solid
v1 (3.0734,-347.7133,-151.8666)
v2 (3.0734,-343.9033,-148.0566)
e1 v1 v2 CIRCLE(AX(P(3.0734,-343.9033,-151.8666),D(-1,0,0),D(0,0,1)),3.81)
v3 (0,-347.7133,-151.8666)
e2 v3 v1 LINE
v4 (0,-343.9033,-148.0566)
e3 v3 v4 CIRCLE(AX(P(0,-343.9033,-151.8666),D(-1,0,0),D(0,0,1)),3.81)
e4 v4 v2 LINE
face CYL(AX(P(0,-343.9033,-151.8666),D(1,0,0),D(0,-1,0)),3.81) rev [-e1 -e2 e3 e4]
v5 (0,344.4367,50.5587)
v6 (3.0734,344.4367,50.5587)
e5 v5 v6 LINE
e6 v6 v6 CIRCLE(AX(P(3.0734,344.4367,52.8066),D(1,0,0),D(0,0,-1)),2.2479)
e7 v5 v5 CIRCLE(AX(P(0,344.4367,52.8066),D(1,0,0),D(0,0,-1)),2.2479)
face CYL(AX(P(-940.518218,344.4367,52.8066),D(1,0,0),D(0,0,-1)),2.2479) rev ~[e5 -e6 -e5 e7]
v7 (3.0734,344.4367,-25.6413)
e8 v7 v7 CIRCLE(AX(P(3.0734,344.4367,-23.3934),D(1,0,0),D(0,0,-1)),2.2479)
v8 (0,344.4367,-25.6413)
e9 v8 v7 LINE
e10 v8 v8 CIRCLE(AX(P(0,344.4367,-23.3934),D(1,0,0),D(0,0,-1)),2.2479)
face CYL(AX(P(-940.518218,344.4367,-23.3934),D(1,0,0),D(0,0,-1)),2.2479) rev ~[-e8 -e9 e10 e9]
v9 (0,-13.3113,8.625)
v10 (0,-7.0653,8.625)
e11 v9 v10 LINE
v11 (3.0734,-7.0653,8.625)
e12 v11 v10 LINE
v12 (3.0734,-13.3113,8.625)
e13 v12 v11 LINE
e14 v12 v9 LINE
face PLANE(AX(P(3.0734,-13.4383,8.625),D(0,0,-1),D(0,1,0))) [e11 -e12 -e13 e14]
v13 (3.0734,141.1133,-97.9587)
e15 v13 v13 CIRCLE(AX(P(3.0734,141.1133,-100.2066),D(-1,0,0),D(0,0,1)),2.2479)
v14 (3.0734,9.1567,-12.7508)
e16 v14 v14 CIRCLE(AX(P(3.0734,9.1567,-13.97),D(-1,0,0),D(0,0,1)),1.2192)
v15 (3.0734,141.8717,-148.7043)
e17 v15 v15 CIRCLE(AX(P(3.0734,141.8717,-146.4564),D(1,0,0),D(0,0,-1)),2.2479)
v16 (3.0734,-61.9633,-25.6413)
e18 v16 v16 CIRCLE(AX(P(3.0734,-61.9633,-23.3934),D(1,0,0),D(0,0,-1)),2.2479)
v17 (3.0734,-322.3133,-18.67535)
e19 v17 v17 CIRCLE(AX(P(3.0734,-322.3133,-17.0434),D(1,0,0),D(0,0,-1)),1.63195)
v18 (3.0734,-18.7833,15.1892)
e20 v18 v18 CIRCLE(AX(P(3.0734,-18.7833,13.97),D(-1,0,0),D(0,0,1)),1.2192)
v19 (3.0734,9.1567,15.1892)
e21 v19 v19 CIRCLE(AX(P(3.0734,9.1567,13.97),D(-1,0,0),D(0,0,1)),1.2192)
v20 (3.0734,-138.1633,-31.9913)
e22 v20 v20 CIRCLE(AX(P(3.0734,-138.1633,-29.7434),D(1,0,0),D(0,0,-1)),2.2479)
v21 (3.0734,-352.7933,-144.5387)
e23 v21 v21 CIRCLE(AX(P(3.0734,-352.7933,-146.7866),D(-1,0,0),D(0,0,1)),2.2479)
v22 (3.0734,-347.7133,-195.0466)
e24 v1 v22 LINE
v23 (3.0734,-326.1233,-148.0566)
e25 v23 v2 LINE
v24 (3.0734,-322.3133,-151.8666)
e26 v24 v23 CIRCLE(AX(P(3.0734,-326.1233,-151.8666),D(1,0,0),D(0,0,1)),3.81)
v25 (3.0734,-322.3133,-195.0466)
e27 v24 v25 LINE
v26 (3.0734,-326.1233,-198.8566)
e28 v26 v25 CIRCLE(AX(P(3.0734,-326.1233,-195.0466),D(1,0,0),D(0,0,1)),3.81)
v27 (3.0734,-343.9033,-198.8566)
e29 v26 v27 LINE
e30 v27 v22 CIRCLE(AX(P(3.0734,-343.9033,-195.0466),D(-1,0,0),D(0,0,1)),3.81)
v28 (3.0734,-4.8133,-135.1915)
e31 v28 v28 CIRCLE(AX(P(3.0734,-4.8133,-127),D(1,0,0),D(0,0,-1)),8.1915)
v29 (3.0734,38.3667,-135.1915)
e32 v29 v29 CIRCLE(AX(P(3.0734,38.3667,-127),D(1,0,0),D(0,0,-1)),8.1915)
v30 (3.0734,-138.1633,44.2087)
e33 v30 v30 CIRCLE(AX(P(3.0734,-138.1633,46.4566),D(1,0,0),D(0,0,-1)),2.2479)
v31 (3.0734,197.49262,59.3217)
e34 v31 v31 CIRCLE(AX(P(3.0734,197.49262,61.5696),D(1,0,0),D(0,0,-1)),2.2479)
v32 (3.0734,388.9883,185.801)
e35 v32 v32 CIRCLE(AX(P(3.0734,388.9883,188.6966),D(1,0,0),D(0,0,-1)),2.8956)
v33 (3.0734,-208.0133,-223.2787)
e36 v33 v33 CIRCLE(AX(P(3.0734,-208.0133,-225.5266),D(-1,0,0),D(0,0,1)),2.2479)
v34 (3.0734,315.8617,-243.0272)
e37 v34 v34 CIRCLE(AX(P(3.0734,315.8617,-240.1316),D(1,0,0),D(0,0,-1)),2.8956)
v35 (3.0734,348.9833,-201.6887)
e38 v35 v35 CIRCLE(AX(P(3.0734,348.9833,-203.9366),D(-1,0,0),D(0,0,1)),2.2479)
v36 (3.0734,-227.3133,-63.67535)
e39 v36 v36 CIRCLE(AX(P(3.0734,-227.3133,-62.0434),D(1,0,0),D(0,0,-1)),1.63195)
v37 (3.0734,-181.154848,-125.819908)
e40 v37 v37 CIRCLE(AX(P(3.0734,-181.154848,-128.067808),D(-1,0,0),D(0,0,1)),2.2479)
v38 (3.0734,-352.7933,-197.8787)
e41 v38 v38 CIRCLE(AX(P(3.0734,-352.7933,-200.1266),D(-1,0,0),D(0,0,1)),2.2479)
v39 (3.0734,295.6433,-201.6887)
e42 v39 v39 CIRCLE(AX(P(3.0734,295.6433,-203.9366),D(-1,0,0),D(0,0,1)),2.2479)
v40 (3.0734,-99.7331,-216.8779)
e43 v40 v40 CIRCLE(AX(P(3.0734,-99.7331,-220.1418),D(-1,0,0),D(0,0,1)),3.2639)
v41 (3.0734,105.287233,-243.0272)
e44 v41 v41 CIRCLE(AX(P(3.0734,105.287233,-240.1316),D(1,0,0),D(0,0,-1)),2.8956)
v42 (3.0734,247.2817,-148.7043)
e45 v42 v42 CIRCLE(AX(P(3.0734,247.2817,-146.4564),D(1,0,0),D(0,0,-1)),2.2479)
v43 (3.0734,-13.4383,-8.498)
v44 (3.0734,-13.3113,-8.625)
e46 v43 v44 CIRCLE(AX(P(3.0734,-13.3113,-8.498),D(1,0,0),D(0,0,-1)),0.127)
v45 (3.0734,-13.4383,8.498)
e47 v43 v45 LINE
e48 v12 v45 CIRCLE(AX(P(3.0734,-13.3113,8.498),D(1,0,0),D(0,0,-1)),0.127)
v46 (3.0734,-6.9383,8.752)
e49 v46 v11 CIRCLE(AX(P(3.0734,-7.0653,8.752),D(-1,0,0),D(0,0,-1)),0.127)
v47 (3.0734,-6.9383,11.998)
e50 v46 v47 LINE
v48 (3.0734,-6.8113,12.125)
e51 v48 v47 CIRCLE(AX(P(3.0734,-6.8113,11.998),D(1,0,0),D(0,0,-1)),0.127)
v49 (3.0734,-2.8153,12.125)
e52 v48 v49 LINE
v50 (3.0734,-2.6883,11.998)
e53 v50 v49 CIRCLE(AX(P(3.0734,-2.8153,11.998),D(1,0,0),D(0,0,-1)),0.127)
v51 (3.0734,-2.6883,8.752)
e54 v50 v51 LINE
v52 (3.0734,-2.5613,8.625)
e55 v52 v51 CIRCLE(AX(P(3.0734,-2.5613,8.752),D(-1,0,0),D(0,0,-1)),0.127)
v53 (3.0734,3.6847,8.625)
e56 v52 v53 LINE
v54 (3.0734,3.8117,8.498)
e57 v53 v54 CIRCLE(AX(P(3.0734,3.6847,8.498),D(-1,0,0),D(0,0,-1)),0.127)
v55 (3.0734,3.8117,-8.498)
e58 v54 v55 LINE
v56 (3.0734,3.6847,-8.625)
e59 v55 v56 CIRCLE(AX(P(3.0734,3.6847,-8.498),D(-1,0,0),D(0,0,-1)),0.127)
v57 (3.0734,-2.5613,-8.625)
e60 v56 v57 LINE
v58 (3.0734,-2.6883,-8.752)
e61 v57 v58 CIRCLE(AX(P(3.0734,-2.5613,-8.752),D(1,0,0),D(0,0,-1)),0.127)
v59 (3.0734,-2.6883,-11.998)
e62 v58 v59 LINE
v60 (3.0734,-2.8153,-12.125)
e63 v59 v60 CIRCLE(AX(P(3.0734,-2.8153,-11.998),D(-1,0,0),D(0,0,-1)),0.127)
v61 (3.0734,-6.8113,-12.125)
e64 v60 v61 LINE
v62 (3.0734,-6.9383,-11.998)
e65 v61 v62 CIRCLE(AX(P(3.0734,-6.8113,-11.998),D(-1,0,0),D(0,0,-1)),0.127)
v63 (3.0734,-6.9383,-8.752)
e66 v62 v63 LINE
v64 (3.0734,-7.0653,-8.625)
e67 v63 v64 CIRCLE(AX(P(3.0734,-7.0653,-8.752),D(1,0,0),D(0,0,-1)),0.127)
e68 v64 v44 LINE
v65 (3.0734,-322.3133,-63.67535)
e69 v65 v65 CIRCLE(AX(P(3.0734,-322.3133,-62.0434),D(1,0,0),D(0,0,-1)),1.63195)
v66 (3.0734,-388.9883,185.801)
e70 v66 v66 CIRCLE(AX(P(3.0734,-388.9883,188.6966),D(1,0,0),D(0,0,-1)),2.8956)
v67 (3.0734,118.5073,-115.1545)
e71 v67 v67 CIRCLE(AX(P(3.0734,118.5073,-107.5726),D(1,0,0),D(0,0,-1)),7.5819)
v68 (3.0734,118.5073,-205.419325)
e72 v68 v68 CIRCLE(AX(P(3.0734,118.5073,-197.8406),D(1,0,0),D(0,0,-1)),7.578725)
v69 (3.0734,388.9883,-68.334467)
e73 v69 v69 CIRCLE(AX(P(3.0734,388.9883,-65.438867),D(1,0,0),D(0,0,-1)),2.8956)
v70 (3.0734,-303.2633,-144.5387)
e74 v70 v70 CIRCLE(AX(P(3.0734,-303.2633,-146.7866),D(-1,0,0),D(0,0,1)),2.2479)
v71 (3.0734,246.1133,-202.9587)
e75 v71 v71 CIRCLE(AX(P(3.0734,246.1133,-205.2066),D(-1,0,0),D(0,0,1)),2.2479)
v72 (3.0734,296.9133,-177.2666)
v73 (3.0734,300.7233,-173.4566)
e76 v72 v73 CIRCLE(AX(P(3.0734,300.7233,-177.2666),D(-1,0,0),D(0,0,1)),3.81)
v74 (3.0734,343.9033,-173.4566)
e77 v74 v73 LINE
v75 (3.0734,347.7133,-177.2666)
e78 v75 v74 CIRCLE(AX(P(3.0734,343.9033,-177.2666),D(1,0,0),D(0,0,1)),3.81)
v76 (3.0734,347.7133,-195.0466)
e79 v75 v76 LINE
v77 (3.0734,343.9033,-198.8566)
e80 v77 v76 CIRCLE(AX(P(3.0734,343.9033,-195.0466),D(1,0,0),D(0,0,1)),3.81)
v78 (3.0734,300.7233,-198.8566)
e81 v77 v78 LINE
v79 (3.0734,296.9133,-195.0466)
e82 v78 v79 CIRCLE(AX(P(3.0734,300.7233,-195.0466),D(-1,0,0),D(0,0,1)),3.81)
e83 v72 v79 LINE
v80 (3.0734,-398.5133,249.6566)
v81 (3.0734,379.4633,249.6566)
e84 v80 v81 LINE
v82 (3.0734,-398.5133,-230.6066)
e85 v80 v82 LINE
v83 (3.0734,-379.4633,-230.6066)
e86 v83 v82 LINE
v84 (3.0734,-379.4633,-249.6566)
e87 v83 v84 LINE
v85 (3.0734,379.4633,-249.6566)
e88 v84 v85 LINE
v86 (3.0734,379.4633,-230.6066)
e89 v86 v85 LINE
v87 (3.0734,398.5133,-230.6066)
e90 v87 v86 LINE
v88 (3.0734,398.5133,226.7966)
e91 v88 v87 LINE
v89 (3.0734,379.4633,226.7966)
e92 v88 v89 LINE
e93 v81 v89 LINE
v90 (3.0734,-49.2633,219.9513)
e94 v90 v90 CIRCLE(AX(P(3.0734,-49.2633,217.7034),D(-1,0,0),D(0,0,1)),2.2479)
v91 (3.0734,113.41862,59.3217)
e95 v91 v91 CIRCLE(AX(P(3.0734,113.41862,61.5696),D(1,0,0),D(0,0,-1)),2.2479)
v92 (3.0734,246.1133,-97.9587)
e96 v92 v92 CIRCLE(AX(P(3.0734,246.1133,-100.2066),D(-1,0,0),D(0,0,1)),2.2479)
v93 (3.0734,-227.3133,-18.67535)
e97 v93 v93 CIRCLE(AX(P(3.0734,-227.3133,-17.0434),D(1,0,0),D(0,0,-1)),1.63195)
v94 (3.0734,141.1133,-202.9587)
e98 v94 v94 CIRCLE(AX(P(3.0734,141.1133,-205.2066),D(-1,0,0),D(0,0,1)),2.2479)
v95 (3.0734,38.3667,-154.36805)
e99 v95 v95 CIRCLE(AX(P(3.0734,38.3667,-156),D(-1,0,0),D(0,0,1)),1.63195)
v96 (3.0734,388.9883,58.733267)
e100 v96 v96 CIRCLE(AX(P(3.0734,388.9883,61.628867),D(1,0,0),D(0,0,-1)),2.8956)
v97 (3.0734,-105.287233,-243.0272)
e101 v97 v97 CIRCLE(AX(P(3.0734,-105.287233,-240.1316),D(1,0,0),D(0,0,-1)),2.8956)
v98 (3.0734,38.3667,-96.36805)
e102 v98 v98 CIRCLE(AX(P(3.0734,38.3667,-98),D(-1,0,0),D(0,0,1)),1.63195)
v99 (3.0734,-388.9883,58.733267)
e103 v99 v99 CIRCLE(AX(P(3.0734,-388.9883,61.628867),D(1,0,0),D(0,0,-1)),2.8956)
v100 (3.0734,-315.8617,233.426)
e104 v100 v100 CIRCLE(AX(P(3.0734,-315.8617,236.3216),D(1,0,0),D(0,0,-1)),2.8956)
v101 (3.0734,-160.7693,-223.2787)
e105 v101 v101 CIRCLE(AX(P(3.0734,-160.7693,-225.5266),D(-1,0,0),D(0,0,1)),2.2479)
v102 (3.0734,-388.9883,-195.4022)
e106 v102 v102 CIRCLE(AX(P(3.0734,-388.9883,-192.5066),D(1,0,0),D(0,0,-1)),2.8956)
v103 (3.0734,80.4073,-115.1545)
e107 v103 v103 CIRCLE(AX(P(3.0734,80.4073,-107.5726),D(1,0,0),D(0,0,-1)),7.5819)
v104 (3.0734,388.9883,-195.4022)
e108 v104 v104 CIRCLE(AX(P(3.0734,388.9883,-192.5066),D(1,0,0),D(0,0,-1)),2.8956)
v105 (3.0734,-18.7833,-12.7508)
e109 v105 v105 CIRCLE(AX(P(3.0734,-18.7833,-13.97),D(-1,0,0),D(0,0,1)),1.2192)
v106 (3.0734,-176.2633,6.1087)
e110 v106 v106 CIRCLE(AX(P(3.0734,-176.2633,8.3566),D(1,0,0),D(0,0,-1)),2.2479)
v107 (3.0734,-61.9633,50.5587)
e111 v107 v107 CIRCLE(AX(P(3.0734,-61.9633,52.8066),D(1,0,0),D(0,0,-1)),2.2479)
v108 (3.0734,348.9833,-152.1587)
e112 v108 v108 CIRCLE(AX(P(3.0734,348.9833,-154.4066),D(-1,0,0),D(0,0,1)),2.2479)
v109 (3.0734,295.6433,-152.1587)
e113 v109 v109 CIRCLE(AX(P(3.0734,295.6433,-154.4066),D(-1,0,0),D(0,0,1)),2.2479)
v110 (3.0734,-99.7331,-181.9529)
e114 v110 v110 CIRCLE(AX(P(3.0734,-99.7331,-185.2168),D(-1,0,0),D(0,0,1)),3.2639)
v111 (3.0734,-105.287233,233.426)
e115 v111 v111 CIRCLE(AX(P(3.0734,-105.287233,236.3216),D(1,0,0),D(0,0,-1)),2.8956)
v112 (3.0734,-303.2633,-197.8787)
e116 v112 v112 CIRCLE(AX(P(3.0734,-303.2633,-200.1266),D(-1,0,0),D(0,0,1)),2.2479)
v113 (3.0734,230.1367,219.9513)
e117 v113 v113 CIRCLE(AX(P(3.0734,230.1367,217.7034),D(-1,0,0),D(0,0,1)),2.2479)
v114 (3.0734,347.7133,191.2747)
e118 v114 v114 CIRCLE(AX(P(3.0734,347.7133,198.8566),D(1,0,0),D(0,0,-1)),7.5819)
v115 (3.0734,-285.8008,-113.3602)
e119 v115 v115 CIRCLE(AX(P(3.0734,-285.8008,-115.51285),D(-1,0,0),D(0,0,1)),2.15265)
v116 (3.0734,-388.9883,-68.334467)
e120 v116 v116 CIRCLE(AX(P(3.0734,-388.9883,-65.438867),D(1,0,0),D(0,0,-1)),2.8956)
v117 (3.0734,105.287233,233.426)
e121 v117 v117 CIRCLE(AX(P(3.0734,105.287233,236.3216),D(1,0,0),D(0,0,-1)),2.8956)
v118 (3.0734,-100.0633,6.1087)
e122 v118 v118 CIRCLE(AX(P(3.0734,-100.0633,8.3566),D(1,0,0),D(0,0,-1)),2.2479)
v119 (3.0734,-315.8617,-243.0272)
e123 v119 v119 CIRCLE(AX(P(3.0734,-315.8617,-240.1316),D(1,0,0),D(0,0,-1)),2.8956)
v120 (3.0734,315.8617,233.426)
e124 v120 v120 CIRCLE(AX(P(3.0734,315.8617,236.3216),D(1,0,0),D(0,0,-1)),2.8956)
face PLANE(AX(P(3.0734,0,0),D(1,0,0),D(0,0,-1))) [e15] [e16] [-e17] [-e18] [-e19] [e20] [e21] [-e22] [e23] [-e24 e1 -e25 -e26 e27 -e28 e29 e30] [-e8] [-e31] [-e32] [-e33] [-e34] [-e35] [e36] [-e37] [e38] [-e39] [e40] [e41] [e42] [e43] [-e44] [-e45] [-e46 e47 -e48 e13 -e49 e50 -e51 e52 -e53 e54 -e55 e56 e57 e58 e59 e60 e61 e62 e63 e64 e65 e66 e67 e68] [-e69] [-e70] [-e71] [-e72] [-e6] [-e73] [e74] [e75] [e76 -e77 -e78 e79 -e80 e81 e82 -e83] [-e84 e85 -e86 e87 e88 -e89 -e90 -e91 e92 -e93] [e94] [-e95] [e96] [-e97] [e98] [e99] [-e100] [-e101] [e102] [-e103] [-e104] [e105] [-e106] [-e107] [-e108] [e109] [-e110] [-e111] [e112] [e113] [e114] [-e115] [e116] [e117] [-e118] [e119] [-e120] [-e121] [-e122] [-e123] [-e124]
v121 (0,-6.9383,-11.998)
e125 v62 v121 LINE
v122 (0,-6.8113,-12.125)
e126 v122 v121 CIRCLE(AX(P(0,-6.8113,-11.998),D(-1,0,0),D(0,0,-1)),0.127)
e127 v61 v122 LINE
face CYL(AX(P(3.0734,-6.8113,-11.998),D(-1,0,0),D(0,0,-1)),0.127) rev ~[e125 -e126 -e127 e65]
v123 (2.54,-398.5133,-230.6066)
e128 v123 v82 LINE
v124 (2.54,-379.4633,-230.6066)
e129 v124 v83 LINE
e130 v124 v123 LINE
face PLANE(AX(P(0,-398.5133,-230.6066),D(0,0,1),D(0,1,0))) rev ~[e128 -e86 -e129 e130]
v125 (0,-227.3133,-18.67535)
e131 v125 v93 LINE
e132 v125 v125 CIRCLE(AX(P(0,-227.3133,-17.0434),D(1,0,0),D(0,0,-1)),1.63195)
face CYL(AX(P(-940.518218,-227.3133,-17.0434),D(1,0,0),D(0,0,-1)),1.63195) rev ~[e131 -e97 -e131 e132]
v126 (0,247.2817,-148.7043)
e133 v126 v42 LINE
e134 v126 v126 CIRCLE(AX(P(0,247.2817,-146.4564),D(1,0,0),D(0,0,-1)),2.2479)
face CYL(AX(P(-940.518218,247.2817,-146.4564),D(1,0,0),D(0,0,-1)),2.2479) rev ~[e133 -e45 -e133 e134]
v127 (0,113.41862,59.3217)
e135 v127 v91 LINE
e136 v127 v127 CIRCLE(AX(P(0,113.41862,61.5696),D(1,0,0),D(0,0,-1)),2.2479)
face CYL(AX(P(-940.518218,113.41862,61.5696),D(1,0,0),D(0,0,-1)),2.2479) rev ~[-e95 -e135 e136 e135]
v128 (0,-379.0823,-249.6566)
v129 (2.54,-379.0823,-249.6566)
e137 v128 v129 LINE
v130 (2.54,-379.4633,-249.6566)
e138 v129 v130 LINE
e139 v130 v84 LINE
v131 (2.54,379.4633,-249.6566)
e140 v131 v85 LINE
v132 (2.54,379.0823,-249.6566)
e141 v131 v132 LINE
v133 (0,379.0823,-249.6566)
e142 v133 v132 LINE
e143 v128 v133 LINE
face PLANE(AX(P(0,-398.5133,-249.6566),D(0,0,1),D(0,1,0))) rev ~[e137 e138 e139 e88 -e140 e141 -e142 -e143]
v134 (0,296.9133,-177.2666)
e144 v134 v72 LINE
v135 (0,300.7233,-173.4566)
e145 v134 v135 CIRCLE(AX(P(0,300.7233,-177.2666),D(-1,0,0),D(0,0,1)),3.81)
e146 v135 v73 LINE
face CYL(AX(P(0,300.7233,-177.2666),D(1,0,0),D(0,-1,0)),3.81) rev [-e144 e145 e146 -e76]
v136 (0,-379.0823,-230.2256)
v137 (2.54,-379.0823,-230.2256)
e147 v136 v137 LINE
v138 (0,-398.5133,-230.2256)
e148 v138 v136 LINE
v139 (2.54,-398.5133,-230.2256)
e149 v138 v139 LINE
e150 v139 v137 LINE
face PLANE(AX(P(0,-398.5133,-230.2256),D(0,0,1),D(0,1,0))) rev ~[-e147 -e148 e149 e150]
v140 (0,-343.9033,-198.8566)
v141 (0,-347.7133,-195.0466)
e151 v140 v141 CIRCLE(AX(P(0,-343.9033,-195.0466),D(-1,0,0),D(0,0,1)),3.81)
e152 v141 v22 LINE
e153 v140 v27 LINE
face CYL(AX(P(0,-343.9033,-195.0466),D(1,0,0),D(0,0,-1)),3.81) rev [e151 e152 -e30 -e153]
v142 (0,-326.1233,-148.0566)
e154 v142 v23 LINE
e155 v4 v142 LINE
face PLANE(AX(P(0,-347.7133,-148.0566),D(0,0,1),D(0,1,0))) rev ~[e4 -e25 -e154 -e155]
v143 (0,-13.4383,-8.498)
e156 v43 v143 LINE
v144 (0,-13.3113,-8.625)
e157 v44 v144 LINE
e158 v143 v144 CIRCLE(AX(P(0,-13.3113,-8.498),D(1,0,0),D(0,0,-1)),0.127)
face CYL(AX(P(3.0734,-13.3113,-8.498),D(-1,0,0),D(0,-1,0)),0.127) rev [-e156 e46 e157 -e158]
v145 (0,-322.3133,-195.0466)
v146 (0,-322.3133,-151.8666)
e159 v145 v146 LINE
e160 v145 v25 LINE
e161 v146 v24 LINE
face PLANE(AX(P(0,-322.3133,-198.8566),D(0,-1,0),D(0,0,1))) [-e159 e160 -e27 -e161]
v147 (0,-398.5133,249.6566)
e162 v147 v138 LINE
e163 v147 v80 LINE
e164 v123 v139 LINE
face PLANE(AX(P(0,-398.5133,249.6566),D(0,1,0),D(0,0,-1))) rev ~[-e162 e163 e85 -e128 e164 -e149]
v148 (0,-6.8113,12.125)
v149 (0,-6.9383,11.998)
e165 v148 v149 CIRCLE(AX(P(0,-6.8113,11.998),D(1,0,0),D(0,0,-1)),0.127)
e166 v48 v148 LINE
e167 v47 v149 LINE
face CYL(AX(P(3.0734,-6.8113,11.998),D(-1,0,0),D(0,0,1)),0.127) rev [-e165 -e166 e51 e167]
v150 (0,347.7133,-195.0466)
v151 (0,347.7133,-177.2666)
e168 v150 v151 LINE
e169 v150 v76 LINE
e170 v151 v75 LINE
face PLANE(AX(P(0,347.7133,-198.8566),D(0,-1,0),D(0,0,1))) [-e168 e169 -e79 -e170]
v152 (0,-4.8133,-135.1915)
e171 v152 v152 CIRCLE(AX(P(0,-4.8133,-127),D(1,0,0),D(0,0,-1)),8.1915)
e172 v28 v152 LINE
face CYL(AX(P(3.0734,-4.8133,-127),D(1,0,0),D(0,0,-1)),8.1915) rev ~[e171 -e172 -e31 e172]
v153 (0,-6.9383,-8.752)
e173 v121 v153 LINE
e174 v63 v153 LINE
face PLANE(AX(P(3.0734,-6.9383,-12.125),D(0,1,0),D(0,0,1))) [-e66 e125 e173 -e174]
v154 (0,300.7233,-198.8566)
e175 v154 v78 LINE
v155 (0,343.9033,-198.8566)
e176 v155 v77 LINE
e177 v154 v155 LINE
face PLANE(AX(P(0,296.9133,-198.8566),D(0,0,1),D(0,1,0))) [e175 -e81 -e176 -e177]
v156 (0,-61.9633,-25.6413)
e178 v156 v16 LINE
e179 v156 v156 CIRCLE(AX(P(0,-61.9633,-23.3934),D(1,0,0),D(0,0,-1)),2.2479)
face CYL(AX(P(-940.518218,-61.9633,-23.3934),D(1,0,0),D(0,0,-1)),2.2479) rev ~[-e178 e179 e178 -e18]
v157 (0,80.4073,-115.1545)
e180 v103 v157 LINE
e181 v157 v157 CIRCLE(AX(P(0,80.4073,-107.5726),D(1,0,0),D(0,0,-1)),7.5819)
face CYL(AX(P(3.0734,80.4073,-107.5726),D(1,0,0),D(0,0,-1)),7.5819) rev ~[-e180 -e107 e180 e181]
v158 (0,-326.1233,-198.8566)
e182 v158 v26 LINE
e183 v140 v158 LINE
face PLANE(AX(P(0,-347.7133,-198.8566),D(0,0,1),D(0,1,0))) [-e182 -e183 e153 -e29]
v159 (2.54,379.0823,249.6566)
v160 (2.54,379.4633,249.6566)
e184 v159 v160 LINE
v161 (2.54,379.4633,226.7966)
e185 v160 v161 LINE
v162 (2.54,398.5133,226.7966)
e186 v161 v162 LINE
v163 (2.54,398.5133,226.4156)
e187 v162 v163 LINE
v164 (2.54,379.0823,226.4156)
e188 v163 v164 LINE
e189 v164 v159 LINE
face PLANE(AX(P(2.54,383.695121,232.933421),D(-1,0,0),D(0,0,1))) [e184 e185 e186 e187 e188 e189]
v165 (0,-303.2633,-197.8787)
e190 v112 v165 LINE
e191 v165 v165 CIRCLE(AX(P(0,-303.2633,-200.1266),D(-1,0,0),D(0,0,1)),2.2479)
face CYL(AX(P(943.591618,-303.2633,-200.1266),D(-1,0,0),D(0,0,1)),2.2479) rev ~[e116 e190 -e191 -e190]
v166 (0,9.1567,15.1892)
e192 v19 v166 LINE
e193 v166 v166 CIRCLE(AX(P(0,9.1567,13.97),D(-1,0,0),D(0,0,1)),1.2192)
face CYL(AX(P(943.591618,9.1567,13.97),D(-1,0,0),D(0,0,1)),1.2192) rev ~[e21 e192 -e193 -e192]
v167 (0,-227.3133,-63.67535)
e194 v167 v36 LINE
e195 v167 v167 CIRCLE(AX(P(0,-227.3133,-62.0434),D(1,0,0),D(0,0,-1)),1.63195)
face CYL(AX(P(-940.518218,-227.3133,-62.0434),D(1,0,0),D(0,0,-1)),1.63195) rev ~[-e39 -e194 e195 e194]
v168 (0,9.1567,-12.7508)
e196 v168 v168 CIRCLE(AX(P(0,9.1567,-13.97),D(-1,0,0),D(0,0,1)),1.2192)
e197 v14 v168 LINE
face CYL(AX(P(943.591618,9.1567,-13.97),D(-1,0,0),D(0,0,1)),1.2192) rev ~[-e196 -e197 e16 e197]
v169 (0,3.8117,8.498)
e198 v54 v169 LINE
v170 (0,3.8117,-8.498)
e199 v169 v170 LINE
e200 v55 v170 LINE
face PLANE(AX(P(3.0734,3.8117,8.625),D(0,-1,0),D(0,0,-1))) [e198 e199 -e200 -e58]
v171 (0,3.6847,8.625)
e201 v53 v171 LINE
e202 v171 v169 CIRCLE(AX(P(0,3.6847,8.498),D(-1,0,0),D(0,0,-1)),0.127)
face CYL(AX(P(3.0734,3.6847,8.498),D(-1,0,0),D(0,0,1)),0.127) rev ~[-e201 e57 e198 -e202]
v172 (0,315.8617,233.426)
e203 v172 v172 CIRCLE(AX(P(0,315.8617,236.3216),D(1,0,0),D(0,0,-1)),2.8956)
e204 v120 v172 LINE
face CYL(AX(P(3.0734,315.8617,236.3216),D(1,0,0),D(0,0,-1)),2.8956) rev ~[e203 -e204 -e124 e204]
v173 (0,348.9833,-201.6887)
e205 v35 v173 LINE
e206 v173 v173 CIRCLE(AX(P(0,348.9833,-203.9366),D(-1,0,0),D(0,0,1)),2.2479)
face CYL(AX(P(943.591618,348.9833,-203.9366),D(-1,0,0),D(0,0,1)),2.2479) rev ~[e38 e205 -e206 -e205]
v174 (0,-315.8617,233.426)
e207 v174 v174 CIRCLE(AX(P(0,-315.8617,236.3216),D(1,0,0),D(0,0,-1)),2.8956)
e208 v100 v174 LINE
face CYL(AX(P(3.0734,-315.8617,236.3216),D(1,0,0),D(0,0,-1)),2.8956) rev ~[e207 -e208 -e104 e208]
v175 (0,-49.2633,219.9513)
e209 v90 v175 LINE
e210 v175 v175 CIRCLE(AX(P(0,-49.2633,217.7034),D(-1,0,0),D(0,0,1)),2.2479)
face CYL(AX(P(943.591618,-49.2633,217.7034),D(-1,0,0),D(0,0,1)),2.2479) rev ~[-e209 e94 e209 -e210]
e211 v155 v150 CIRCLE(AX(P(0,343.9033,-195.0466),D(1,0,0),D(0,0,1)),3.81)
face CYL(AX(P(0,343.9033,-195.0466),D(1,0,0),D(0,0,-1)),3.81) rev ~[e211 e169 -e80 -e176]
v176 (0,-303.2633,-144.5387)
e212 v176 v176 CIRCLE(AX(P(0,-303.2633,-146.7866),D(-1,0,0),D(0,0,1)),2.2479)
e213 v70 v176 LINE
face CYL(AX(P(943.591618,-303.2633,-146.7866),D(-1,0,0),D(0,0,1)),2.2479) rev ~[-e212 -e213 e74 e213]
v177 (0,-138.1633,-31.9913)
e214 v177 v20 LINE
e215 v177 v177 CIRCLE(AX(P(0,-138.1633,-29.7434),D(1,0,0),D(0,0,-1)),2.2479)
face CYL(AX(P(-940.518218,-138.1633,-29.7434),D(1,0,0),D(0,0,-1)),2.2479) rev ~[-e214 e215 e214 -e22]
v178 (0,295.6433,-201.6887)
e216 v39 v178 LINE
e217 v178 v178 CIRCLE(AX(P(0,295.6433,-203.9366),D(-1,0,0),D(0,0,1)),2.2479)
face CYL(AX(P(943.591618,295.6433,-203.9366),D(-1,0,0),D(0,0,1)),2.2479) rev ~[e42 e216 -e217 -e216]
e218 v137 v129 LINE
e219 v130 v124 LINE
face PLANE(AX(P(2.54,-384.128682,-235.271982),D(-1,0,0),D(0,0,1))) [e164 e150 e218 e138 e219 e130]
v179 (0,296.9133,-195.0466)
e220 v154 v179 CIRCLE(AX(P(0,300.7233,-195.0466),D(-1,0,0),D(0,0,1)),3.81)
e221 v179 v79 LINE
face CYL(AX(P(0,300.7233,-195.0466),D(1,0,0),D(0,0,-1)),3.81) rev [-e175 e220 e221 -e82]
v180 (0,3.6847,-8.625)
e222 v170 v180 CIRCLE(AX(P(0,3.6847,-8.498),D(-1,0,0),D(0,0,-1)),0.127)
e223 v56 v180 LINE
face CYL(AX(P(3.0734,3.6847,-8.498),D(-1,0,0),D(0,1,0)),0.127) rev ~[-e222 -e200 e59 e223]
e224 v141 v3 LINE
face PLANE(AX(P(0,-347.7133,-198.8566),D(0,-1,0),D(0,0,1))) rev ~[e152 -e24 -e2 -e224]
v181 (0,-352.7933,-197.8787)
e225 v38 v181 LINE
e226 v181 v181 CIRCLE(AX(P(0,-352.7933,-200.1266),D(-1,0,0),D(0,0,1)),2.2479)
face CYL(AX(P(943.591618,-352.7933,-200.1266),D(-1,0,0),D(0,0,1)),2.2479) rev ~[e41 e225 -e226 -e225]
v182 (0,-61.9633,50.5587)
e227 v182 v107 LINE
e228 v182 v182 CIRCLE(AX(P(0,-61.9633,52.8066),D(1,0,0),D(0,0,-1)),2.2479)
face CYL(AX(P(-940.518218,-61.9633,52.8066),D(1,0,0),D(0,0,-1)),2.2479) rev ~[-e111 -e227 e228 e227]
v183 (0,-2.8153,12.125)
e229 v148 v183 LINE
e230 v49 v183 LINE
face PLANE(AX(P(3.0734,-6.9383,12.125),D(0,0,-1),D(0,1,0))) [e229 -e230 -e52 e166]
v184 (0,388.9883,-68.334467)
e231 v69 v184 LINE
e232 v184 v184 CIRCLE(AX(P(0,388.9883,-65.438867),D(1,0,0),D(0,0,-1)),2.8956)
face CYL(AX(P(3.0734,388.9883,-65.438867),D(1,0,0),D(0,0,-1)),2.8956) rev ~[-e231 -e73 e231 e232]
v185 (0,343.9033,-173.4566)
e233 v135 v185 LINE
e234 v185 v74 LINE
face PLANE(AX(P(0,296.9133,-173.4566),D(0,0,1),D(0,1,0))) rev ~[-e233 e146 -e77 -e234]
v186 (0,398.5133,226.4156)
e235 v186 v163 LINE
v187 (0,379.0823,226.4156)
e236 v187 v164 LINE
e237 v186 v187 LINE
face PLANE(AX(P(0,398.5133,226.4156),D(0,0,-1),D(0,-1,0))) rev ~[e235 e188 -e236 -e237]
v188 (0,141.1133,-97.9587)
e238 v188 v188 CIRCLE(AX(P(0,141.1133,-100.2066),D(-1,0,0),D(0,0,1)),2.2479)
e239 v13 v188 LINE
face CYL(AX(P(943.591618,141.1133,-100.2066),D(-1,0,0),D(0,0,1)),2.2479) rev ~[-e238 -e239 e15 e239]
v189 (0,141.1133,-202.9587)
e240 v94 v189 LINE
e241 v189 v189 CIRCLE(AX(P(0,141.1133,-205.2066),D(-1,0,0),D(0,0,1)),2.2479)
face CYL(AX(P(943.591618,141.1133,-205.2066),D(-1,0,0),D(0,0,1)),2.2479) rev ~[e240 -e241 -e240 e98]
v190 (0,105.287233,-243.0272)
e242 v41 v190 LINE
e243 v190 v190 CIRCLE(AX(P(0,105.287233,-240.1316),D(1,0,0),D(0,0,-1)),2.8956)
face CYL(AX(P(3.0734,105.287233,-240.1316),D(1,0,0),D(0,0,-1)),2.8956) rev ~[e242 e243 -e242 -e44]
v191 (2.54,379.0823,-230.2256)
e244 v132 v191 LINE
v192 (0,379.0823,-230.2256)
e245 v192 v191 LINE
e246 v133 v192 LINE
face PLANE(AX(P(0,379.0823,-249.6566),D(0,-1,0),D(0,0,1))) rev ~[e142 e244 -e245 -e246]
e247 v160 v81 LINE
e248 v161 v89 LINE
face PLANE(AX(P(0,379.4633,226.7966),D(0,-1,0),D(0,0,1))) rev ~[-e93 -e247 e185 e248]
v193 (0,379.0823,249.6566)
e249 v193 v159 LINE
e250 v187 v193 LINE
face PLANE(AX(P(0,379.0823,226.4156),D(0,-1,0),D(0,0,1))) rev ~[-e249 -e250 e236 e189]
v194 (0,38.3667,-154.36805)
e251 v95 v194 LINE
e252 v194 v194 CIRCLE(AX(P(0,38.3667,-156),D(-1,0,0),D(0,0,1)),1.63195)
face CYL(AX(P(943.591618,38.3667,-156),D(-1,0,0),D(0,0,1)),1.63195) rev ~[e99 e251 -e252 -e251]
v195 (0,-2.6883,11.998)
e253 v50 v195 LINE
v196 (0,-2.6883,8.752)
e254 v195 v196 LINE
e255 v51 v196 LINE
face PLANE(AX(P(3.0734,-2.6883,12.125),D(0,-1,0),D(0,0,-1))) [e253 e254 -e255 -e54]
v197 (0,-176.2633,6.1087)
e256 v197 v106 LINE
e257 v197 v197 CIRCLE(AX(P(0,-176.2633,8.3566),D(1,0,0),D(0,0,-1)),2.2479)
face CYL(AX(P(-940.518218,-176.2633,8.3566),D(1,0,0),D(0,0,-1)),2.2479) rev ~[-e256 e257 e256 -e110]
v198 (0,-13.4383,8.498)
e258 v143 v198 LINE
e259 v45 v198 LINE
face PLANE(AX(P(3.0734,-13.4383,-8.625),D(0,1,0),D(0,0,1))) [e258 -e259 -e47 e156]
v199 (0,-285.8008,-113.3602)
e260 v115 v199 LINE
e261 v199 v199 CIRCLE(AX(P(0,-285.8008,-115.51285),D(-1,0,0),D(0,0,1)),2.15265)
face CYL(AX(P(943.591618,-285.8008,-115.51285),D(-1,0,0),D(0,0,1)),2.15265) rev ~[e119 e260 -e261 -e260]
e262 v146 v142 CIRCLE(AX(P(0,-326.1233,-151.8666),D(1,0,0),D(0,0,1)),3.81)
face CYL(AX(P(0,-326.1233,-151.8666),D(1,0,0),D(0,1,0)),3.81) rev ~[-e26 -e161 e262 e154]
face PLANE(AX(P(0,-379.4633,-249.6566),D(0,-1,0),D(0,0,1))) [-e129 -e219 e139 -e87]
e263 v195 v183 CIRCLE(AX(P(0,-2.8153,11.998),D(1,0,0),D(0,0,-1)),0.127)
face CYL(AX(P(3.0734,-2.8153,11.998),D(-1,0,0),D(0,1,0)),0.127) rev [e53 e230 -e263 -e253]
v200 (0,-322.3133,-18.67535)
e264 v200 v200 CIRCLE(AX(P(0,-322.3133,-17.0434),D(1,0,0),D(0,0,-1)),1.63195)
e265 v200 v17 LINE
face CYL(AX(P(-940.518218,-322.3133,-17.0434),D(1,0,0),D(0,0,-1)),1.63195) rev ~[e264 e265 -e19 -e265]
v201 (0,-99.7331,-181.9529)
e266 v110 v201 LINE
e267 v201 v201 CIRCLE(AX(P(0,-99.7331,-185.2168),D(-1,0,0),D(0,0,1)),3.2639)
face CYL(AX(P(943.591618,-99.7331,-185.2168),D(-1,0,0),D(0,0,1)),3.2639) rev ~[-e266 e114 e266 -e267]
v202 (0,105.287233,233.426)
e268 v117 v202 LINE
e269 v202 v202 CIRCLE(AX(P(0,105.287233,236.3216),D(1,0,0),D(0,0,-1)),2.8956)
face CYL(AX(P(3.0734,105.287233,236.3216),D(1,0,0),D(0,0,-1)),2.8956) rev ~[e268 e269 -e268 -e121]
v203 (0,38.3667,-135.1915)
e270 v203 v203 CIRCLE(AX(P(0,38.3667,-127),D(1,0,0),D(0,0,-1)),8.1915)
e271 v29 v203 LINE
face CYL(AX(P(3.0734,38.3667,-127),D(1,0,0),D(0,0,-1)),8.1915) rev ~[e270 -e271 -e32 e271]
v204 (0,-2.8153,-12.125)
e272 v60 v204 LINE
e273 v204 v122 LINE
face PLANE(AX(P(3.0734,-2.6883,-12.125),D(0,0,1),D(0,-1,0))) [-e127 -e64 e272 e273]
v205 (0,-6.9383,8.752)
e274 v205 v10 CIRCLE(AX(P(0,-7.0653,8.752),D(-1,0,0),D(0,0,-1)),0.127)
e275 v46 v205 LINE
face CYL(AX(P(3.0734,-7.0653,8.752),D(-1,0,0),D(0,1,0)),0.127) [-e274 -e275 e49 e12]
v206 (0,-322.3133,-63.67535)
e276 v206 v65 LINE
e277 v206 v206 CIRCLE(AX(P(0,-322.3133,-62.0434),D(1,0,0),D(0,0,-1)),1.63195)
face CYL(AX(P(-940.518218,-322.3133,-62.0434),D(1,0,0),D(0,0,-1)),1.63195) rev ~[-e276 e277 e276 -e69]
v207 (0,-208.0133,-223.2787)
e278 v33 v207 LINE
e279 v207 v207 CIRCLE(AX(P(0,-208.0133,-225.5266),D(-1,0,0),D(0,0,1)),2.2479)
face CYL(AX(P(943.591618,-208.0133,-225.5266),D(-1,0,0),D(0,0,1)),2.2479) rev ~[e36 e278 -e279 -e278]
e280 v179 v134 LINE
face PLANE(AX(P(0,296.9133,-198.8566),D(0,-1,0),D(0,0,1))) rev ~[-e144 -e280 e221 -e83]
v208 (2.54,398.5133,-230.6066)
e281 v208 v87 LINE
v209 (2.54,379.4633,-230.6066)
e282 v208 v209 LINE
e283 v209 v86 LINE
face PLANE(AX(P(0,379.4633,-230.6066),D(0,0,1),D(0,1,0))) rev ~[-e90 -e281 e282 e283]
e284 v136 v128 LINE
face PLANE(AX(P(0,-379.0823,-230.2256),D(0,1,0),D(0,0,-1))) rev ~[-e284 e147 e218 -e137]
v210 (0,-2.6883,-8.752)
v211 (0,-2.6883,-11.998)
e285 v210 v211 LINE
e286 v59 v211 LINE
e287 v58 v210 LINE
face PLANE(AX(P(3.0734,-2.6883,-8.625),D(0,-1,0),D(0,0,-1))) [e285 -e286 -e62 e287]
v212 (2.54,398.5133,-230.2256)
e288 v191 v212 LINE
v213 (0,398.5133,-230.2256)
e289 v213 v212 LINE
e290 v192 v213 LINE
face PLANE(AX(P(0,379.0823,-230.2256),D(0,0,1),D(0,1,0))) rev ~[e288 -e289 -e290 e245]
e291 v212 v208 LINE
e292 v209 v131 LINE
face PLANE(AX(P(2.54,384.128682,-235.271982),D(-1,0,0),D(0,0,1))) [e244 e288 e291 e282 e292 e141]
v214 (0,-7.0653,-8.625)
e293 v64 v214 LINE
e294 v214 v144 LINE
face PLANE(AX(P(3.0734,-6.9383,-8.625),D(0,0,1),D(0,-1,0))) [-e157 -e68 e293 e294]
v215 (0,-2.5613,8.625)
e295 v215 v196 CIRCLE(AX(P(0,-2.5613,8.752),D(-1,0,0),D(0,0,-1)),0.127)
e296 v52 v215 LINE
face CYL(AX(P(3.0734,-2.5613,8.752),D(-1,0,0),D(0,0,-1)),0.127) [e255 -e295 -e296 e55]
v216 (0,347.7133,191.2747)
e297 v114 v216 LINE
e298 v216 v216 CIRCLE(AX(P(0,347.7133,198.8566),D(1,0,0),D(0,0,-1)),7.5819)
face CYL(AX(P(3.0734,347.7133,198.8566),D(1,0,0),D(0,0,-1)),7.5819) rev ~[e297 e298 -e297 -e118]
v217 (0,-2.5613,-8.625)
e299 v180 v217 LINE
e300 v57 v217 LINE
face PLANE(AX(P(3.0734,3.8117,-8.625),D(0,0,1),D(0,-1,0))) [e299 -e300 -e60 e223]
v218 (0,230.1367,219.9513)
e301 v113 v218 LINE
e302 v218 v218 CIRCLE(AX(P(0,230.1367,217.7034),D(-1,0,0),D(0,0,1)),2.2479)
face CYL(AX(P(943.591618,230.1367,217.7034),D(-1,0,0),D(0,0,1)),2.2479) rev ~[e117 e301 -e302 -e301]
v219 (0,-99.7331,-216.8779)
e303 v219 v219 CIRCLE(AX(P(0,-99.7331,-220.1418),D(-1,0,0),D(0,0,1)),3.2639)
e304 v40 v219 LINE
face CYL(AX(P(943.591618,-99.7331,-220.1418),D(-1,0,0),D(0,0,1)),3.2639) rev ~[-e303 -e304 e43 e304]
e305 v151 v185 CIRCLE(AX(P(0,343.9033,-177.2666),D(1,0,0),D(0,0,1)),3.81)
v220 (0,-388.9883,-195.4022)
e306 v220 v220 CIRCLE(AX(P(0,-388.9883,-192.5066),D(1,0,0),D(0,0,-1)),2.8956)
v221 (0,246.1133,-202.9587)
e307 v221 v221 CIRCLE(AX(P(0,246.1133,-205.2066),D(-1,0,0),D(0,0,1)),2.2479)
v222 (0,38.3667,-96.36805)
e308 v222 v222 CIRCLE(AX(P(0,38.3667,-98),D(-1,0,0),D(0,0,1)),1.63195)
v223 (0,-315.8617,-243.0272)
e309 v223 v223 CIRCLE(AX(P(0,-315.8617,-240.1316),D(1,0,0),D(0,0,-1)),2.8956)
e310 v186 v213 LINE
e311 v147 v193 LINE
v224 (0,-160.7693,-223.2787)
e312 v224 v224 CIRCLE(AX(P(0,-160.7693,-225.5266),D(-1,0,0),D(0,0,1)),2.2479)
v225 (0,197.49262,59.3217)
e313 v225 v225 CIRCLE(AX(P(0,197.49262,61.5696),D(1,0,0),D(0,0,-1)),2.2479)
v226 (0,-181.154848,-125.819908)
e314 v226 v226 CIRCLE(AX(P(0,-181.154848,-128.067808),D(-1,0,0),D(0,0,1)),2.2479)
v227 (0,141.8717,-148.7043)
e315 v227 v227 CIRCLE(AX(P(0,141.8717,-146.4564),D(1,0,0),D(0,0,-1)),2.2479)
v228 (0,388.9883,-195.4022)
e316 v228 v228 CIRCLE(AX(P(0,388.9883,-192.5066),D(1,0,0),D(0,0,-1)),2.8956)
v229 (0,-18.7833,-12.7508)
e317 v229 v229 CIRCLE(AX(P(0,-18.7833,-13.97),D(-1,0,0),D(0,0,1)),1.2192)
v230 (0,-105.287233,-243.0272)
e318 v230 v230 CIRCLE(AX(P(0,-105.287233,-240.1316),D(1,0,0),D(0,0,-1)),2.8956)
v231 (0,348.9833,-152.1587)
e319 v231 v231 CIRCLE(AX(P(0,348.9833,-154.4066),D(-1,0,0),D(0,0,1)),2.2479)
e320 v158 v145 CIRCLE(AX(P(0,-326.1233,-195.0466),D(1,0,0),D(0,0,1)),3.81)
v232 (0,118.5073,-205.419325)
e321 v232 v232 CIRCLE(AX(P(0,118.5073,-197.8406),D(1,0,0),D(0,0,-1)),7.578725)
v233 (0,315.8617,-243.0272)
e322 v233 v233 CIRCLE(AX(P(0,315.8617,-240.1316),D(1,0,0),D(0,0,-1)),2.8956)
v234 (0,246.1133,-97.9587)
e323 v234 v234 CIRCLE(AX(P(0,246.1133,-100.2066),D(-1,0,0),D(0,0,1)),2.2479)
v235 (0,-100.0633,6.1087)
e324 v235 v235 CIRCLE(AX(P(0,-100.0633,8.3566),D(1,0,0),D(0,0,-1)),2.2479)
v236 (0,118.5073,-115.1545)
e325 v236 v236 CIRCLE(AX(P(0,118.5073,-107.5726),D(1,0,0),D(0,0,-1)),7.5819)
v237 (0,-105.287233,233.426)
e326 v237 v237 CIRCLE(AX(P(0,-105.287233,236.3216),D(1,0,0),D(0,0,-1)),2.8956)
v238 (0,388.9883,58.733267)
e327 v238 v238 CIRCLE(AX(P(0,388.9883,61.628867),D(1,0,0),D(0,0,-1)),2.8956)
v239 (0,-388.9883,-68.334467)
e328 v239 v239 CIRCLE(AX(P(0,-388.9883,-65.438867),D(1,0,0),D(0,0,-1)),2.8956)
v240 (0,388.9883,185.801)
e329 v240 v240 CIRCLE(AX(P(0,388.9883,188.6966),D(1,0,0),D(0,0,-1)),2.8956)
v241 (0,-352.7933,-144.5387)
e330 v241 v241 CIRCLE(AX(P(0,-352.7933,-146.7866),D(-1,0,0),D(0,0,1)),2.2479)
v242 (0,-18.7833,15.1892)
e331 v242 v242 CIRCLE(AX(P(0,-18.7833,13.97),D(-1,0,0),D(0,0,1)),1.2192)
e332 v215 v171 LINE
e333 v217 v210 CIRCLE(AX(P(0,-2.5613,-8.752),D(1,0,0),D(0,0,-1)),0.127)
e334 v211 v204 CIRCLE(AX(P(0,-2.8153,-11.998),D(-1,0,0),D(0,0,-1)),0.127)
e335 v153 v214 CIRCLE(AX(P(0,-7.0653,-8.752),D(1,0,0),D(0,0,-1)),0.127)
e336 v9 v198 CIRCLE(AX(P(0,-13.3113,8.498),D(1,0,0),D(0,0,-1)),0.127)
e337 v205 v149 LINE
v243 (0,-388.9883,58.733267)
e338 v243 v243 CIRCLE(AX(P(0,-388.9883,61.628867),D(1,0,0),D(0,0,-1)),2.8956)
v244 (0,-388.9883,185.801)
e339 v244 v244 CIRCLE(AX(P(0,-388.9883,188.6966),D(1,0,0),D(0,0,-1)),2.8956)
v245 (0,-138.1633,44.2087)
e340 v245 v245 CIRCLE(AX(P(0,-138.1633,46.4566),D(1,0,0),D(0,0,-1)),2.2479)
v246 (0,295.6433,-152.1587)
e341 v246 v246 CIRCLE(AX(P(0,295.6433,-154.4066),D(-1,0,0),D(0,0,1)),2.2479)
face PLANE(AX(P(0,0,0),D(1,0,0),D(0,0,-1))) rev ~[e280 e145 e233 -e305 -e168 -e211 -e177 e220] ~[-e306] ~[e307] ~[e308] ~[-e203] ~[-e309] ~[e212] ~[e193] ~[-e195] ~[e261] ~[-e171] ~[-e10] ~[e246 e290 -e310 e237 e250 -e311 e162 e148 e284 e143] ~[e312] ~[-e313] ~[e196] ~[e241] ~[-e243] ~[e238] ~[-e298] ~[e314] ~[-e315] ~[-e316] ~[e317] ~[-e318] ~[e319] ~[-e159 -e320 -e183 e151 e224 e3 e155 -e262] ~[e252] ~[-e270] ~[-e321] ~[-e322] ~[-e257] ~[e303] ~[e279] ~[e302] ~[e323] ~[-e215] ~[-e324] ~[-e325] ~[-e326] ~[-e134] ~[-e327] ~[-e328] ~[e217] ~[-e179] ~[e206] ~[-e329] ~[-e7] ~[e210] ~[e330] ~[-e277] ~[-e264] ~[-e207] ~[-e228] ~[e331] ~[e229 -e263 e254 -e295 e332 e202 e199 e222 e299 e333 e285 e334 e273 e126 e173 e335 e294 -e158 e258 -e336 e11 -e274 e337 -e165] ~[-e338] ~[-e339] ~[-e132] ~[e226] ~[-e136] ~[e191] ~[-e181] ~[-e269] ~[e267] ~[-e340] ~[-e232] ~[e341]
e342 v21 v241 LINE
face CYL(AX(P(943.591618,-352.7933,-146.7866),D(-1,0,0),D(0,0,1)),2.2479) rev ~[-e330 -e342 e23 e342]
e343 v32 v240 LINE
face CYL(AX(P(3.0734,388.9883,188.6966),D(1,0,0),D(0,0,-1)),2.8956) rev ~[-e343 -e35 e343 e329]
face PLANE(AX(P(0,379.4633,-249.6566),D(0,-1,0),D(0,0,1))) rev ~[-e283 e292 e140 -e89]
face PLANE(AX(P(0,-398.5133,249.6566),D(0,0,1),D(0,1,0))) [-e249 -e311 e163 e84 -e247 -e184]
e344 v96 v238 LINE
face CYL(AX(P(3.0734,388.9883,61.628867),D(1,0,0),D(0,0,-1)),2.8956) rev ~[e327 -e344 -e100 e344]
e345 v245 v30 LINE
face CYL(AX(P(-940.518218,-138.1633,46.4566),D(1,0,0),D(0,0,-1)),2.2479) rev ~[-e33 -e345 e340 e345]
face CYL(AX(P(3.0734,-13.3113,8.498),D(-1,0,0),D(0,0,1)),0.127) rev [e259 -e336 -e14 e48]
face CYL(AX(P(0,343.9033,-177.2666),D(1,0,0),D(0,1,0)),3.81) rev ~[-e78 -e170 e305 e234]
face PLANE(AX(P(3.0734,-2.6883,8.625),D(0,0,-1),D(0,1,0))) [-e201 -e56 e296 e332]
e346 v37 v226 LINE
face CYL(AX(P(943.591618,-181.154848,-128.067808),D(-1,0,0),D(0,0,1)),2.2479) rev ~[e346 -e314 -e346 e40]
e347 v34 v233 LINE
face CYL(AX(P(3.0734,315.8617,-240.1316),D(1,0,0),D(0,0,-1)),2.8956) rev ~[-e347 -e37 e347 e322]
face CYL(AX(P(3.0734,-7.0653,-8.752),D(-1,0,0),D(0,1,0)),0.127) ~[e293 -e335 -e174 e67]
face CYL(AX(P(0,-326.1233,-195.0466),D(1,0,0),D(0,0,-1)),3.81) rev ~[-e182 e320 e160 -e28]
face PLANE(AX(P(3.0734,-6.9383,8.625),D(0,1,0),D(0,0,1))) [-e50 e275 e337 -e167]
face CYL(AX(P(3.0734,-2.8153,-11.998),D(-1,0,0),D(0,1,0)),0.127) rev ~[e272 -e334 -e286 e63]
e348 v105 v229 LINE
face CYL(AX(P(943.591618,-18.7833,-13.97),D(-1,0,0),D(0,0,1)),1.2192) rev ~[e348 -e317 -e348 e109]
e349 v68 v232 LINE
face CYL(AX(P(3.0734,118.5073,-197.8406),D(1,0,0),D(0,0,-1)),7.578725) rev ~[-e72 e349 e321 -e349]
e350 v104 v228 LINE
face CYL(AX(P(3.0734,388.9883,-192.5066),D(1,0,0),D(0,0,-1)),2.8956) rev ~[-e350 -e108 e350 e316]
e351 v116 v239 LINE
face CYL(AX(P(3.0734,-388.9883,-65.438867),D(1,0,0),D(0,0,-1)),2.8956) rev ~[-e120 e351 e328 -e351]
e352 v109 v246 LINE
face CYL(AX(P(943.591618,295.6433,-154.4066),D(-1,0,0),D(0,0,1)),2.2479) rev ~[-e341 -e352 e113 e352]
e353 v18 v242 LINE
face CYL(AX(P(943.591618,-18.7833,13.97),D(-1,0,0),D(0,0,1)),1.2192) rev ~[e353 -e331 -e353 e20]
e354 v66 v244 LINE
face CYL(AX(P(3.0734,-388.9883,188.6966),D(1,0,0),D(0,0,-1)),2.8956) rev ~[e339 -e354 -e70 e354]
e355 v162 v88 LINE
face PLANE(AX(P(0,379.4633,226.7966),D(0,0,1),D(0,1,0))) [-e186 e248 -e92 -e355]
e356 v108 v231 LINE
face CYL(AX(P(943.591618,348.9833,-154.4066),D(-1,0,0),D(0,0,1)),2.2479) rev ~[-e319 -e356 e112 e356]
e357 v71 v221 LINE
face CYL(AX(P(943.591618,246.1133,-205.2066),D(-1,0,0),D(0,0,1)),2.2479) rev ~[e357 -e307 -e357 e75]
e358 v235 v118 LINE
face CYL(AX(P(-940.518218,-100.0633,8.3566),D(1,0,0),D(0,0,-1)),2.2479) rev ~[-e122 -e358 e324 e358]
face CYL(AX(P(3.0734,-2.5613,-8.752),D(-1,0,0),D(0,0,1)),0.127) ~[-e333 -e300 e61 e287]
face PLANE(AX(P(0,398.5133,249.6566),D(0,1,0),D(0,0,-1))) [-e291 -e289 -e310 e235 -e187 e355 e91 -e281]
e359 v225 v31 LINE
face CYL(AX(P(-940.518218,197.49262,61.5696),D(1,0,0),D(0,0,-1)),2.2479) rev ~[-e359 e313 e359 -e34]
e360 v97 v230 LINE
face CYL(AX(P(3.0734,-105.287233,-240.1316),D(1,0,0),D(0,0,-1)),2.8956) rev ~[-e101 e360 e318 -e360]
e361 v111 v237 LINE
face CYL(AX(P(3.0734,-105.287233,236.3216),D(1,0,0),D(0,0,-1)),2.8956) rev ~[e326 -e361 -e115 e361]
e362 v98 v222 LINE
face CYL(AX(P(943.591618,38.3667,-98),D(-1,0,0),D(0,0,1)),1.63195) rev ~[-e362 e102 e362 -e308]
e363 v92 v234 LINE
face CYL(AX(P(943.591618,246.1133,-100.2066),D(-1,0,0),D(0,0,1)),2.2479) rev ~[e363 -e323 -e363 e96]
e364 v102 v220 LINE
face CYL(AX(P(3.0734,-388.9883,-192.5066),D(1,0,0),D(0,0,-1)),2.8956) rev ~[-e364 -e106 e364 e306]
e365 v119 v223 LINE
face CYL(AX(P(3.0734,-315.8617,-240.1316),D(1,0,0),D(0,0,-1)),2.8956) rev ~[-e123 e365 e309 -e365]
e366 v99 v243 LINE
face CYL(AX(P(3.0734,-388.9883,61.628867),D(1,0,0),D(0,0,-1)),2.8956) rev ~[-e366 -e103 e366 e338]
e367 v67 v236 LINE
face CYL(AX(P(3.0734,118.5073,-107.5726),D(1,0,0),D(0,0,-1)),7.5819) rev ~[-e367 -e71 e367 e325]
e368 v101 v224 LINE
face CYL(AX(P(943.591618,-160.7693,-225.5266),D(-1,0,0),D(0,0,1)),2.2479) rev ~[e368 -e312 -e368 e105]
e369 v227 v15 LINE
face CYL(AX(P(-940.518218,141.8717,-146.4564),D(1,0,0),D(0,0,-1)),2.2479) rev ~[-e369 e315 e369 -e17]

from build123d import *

# Parameters (mm, degrees)
SKETCH1_W                                   = 499.3132
SKETCH1_H                                   = 797.0266
SIDEPANEL_DEPTH                             = 3.0734
SKETCH2_R                                   = 2.8956
TOPBOTTOMHOLEMASTER_DEPTH                   = 4.0734
LPATTERN1_COUNT                             = 4
LPATTERN1_PITCH                             = 127.067733333
SKETCH3_R                                   = 2.8956
REARHOLESMASTER_DEPTH                       = 4.0734
LPATTERN2_COUNT                             = 4
LPATTERN2_PITCH                             = 210.574466667
SKETCH4_W                                   = 19.05
SKETCH4_H                                   = 19.05
SKETCH4_W_2                                 = 22.86
CORNERCUTS_DEPTH                            = 4.0734
F_8_CLEARANCE_HOLE4_BRAIN_MOUNT_D           = 4.4958
F_8_CLEARANCE_HOLE3_PUMP_MOUNTS_D           = 4.4958
SKETCH17_W                                  = 25.4
SKETCH17_H                                  = 50.8
SKETCH17_W_2                                = 50.8
SKETCH17_H_2                                = 25.4
CABLE_PASS_THROUGH_DEPTH                    = 4.0734
F_8_CLEARANCE_HOLE1_PASS_THROUGH_MOUNTING_D = 4.4958
CUT_EXTRUDE1_DEPTH                          = 2.54
F_8_CLEARANCE_HOLE_HX_MOUNT_D               = 4.4958
SKETCH42_R                                  = 7.578725
SKETCH42_R_2                                = 7.5819
COOLANT_HOSE_PASS_THROUGH_DEPTH             = 4.0734
SKETCH43_R                                  = 7.5819
AIR_FLUSH_IN_OUT_DEPTH                      = 4.0734
F_8_CLEARANCE_HOLE2_AIR_FLUSH_OUT_MOUNT_D   = 4.4958
F_8_CLEARANCE_HOLE4_PANEL_MOUNTS_D          = 4.4958
FILLET1_R                                   = 3.81
SKETCH50_OUTSIDE_W                          = 689.418
SKETCH50_OUTSIDE_H                          = 987.13
SKETCH50_OUTSIDE_R                          = 8.1915
SENSOR_MOUNTING_DEPTH                       = 4.0734
F_2_CLEARANCE_HOLE1_D                       = 2.4384
F_4_CLEARANCE_HOLE2_D                       = 3.2639
FILLET2_R                                   = 0.127
F_4_CLEARANCE_HOLE_COMPRESSOR_DRIVER_D      = 3.2639
F_1_4_CLEARANCE_HOLE_BALL_VALVE_U_BOLT_D    = 6.5278
AERATION_PUMP_8_CLEARANCE_HOLE1_D           = 4.3053


with BuildPart() as part:
    # Sketch1 → SidePanel (new body)
    with BuildSketch(Plane(origin=(0, 0, 0), x_dir=(0, 0, -1), z_dir=(1, 0, 0))):
        Rectangle(SKETCH1_W, SKETCH1_H)
    extrude(amount=SIDEPANEL_DEPTH)

    # Sketch2 → TopBottomHoleMaster (cut, through all)
    with BuildSketch(Plane(origin=(3.0734, 0, 0), x_dir=(0, 0, -1), z_dir=(1, 0, 0))):
        with Locations((192.5066, 388.9883)):
            Circle(SKETCH2_R)
        with Locations((192.5066, -388.9883)):
            Circle(SKETCH2_R)
    topbottomholemaster = extrude(amount=-TOPBOTTOMHOLEMASTER_DEPTH, mode=Mode.SUBTRACT)

    # LPattern1: TopBottomHoleMaster ×4
    with Locations(*[(0, 0, i * LPATTERN1_PITCH) for i in range(1, LPATTERN1_COUNT)]):
        add(topbottomholemaster, mode=Mode.SUBTRACT)

    # Sketch3 → RearHolesMaster (cut, through all)
    with BuildSketch(Plane(origin=(3.0734, 0, 0), x_dir=(0, 0, -1), z_dir=(1, 0, 0))):
        with Locations((-236.3216, 315.8617)):
            Circle(SKETCH3_R)
        with Locations((240.1316, 315.8617)):
            Circle(SKETCH3_R)
    rearholesmaster = extrude(amount=-REARHOLESMASTER_DEPTH, mode=Mode.SUBTRACT)

    # LPattern2: RearHolesMaster ×4
    with Locations(*[(0, -i * LPATTERN2_PITCH, 0) for i in range(1, LPATTERN2_COUNT)]):
        add(rearholesmaster, mode=Mode.SUBTRACT)

    # Sketch4 → CornerCuts (cut, through all)
    with BuildSketch(Plane.ZY):
        with Locations((-240.1316, 388.9883)):
            Rectangle(SKETCH4_W, SKETCH4_H)
        with Locations((238.2266, 388.9883)):
            Rectangle(SKETCH4_W_2, SKETCH4_H)
        with Locations((-240.1316, -388.9883)):
            Rectangle(SKETCH4_W, SKETCH4_H)
    extrude(amount=-CORNERCUTS_DEPTH, mode=Mode.SUBTRACT)

    # #8 Clearance Hole4 Brain Mount (through all)
    with Locations(Plane.ZY):
        with Locations((-23.3934, 344.4367), (52.8066, 344.4367), (52.8066, -61.9633), (-23.3934, -61.9633), (-146.4564, 141.8717), (-146.4564, 247.2817), (61.5696, 197.49262), (61.5696, 113.41862)):
            Hole(F_8_CLEARANCE_HOLE4_BRAIN_MOUNT_D / 2)

    # #8 Clearance Hole3 Pump Mounts (through all)
    with Locations(Plane.ZY):
        with Locations((46.4566, -138.1633), (8.3566, -100.0633), (8.3566, -176.2633), (-29.7434, -138.1633)):
            Hole(F_8_CLEARANCE_HOLE3_PUMP_MOUNTS_D / 2)

    # Sketch17 → Cable Pass Through (cut, through all)
    with BuildSketch(Plane.ZY):
        with Locations((-186.1566, 322.3133)):
            Rectangle(SKETCH17_W, SKETCH17_H)
        with Locations((-173.4566, -335.0133)):
            Rectangle(SKETCH17_W_2, SKETCH17_H_2)
    extrude(amount=-CABLE_PASS_THROUGH_DEPTH, mode=Mode.SUBTRACT)

    # #8 Clearance Hole1 Pass through Mounting holes (through all)
    with Locations(Plane(origin=(3.0734, 0, 0), x_dir=(0, 0, -1), z_dir=(1, 0, 0))):
        with Locations((146.7866, -352.7933), (200.1266, -352.7933), (200.1266, -303.2633), (146.7866, -303.2633), (154.4066, 348.9833), (203.9366, 348.9833), (203.9366, 295.6433), (154.4066, 295.6433)):
            Hole(F_8_CLEARANCE_HOLE1_PASS_THROUGH_MOUNTING_D / 2)

    # Sketch39 → Cut-Extrude1 (cut)
    with BuildSketch(Plane.ZY):
        Polygon((-230.2256, 398.5133), (-230.6066, 398.5133), (-230.6066, 379.4633), (-249.6566, 379.4633), (-249.6566, 379.0823), (-230.2256, 379.0823), align=None)
        Polygon((-249.6566, -379.0823), (-249.6566, -379.4633), (-230.6066, -379.4633), (-230.6066, -398.5133), (-230.2256, -398.5133), (-230.2256, -379.0823), align=None)
        Polygon((226.7966, 398.5133), (226.4156, 398.5133), (226.4156, 379.0823), (249.6566, 379.0823), (249.6566, 379.4633), (226.7966, 379.4633), align=None)
    extrude(amount=-CUT_EXTRUDE1_DEPTH, mode=Mode.SUBTRACT)

    # #8 Clearance Hole -hx mount (through all)
    with Locations(Plane(origin=(3.0734, 0, 0), x_dir=(0, 0, -1), z_dir=(1, 0, 0))):
        with Locations((205.2066, 246.1133), (205.2066, 141.1133), (100.2066, 141.1133), (100.2066, 246.1133)):
            Hole(F_8_CLEARANCE_HOLE_HX_MOUNT_D / 2)

    # Sketch42 → Coolant hose pass through (cut, through all)
    with BuildSketch(Plane(origin=(3.0734, 0, 0), x_dir=(0, 0, -1), z_dir=(1, 0, 0))):
        with Locations((197.8406, 118.5073)):
            Circle(SKETCH42_R)
        with Locations((107.5726, 118.5073)):
            Circle(SKETCH42_R_2)
    extrude(amount=-COOLANT_HOSE_PASS_THROUGH_DEPTH, mode=Mode.SUBTRACT)

    # Sketch43 → Air flush in/out (cut, through all)
    with BuildSketch(Plane(origin=(3.0734, 0, 0), x_dir=(0, 0, -1), z_dir=(1, 0, 0))):
        with Locations((-198.8566, 347.7133)):
            Circle(SKETCH43_R)
        with Locations((107.5726, 80.4073)):
            Circle(SKETCH43_R)
    extrude(amount=-AIR_FLUSH_IN_OUT_DEPTH, mode=Mode.SUBTRACT)

    # #8 Clearance Hole2 Air Flush Out mount (through all)
    with Locations(Plane(origin=(3.0734, 0, 0), x_dir=(0, 0, -1), z_dir=(1, 0, 0))):
        with Locations((225.5266, -160.7693), (225.5266, -208.0133), (128.067808498, -181.154848387)):
            Hole(F_8_CLEARANCE_HOLE2_AIR_FLUSH_OUT_MOUNT_D / 2)

    # #8 Clearance Hole4 Panel Mounts (through all)
    with Locations(Plane(origin=(3.0734, 0, 0), x_dir=(0, 0, -1), z_dir=(1, 0, 0))):
        with Locations((-217.7034, 230.1367), (-217.7034, -49.2633)):
            Hole(F_8_CLEARANCE_HOLE4_PANEL_MOUNTS_D / 2)

    # Fillet1
    fillet1_edges = [part.edges().sort_by_distance(p)[0] for p in [
        (1.5367, 296.9133, -198.8566),
        (1.5367, 347.7133, -198.8566),
        (1.5367, 347.7133, -173.4566),
        (1.5367, 296.9133, -173.4566),
        (1.5367, -347.7133, -198.8566),
        (1.5367, -322.3133, -198.8566),
        (1.5367, -322.3133, -148.0566),
        (1.5367, -347.7133, -148.0566),
    ]]
    fillet(fillet1_edges, radius=FILLET1_R)

    # Sketch50 outside → Sensor Mounting (cut, through all)
    with BuildSketch(Plane(origin=(3.0734, 0, 0), x_dir=(0, 0, -1), z_dir=(1, 0, 0))):
        Rectangle(SKETCH50_OUTSIDE_W, SKETCH50_OUTSIDE_H)
        Polygon((230.6066, -379.4633), (249.6566, -379.4633), (249.6566, 379.4633), (230.6066, 379.4633), (230.6066, 398.5133), (-226.7966, 398.5133), (-226.7966, 379.4633), (-249.6566, 379.4633), (-249.6566, -398.5133), (230.6066, -398.5133), align=None, mode=Mode.SUBTRACT)
        with Locations((127, -4.8133)):
            Circle(SKETCH50_OUTSIDE_R)
        with Locations((127, 38.3667)):
            Circle(SKETCH50_OUTSIDE_R)
        Polygon((-8.625, 3.8117), (8.625, 3.8117), (8.625, -2.6883), (12.125, -2.6883), (12.125, -6.9383), (8.625, -6.9383), (8.625, -13.4383), (-8.625, -13.4383), (-8.625, -6.9383), (-12.125, -6.9383), (-12.125, -2.6883), (-8.625, -2.6883), align=None)
    extrude(amount=-SENSOR_MOUNTING_DEPTH, mode=Mode.SUBTRACT)

    # #2 Clearance Hole1 (through all)
    with Locations(Plane(origin=(3.0734, 0, 0), x_dir=(0, 0, -1), z_dir=(1, 0, 0))):
        with Locations((-13.97, 9.1567), (13.97, 9.1567), (13.97, -18.7833), (-13.97, -18.7833)):
            Hole(F_2_CLEARANCE_HOLE1_D / 2)

    # #4 Clearance Hole2 (through all)
    with Locations(Plane(origin=(3.0734, 0, 0), x_dir=(0, 0, -1), z_dir=(1, 0, 0))):
        with Locations((98, 38.3667), (156, 38.3667)):
            Hole(F_4_CLEARANCE_HOLE2_D / 2)

    # Fillet2
    fillet2_edges = [part.edges().sort_by_distance(p)[0] for p in [
        (1.5367, -2.6883, 8.625),
        (1.5367, 3.8117, 8.625),
        (1.5367, 3.8117, -8.625),
        (1.5367, -2.6883, -8.625),
        (1.5367, -2.6883, -12.125),
        (1.5367, -6.9383, -12.125),
        (1.5367, -6.9383, -8.625),
        (1.5367, -13.4383, -8.625),
        (1.5367, -13.4383, 8.625),
        (1.5367, -6.9383, 8.625),
        (1.5367, -6.9383, 12.125),
        (1.5367, -2.6883, 12.125),
    ]]
    fillet(fillet2_edges, radius=FILLET2_R)

    # #4 Clearance Hole compressor driver (through all)
    with Locations(Plane.ZY):
        with Locations((-17.0434, -227.3133), (-62.0434, -227.3133), (-62.0434, -322.3133), (-17.0434, -322.3133)):
            Hole(F_4_CLEARANCE_HOLE_COMPRESSOR_DRIVER_D / 2)

    # 1/4 Clearance Hole ball valve u bolt (through all)
    with Locations(Plane(origin=(3.0734, 0, 0), x_dir=(0, 0, -1), z_dir=(1, 0, 0))):
        with Locations((220.1418, -99.7331), (185.2168, -99.7331)):
            Hole(F_1_4_CLEARANCE_HOLE_BALL_VALVE_U_BOLT_D / 2)

    # Aeration Pump #8 Clearance Hole1 (through all)
    with Locations(Plane(origin=(3.0734, 0, 0), x_dir=(0, 0, -1), z_dir=(1, 0, 0))):
        with Locations((115.51285, -285.8008)):
            Hole(AERATION_PUMP_8_CLEARANCE_HOLE1_D / 2)


solid = part.part
